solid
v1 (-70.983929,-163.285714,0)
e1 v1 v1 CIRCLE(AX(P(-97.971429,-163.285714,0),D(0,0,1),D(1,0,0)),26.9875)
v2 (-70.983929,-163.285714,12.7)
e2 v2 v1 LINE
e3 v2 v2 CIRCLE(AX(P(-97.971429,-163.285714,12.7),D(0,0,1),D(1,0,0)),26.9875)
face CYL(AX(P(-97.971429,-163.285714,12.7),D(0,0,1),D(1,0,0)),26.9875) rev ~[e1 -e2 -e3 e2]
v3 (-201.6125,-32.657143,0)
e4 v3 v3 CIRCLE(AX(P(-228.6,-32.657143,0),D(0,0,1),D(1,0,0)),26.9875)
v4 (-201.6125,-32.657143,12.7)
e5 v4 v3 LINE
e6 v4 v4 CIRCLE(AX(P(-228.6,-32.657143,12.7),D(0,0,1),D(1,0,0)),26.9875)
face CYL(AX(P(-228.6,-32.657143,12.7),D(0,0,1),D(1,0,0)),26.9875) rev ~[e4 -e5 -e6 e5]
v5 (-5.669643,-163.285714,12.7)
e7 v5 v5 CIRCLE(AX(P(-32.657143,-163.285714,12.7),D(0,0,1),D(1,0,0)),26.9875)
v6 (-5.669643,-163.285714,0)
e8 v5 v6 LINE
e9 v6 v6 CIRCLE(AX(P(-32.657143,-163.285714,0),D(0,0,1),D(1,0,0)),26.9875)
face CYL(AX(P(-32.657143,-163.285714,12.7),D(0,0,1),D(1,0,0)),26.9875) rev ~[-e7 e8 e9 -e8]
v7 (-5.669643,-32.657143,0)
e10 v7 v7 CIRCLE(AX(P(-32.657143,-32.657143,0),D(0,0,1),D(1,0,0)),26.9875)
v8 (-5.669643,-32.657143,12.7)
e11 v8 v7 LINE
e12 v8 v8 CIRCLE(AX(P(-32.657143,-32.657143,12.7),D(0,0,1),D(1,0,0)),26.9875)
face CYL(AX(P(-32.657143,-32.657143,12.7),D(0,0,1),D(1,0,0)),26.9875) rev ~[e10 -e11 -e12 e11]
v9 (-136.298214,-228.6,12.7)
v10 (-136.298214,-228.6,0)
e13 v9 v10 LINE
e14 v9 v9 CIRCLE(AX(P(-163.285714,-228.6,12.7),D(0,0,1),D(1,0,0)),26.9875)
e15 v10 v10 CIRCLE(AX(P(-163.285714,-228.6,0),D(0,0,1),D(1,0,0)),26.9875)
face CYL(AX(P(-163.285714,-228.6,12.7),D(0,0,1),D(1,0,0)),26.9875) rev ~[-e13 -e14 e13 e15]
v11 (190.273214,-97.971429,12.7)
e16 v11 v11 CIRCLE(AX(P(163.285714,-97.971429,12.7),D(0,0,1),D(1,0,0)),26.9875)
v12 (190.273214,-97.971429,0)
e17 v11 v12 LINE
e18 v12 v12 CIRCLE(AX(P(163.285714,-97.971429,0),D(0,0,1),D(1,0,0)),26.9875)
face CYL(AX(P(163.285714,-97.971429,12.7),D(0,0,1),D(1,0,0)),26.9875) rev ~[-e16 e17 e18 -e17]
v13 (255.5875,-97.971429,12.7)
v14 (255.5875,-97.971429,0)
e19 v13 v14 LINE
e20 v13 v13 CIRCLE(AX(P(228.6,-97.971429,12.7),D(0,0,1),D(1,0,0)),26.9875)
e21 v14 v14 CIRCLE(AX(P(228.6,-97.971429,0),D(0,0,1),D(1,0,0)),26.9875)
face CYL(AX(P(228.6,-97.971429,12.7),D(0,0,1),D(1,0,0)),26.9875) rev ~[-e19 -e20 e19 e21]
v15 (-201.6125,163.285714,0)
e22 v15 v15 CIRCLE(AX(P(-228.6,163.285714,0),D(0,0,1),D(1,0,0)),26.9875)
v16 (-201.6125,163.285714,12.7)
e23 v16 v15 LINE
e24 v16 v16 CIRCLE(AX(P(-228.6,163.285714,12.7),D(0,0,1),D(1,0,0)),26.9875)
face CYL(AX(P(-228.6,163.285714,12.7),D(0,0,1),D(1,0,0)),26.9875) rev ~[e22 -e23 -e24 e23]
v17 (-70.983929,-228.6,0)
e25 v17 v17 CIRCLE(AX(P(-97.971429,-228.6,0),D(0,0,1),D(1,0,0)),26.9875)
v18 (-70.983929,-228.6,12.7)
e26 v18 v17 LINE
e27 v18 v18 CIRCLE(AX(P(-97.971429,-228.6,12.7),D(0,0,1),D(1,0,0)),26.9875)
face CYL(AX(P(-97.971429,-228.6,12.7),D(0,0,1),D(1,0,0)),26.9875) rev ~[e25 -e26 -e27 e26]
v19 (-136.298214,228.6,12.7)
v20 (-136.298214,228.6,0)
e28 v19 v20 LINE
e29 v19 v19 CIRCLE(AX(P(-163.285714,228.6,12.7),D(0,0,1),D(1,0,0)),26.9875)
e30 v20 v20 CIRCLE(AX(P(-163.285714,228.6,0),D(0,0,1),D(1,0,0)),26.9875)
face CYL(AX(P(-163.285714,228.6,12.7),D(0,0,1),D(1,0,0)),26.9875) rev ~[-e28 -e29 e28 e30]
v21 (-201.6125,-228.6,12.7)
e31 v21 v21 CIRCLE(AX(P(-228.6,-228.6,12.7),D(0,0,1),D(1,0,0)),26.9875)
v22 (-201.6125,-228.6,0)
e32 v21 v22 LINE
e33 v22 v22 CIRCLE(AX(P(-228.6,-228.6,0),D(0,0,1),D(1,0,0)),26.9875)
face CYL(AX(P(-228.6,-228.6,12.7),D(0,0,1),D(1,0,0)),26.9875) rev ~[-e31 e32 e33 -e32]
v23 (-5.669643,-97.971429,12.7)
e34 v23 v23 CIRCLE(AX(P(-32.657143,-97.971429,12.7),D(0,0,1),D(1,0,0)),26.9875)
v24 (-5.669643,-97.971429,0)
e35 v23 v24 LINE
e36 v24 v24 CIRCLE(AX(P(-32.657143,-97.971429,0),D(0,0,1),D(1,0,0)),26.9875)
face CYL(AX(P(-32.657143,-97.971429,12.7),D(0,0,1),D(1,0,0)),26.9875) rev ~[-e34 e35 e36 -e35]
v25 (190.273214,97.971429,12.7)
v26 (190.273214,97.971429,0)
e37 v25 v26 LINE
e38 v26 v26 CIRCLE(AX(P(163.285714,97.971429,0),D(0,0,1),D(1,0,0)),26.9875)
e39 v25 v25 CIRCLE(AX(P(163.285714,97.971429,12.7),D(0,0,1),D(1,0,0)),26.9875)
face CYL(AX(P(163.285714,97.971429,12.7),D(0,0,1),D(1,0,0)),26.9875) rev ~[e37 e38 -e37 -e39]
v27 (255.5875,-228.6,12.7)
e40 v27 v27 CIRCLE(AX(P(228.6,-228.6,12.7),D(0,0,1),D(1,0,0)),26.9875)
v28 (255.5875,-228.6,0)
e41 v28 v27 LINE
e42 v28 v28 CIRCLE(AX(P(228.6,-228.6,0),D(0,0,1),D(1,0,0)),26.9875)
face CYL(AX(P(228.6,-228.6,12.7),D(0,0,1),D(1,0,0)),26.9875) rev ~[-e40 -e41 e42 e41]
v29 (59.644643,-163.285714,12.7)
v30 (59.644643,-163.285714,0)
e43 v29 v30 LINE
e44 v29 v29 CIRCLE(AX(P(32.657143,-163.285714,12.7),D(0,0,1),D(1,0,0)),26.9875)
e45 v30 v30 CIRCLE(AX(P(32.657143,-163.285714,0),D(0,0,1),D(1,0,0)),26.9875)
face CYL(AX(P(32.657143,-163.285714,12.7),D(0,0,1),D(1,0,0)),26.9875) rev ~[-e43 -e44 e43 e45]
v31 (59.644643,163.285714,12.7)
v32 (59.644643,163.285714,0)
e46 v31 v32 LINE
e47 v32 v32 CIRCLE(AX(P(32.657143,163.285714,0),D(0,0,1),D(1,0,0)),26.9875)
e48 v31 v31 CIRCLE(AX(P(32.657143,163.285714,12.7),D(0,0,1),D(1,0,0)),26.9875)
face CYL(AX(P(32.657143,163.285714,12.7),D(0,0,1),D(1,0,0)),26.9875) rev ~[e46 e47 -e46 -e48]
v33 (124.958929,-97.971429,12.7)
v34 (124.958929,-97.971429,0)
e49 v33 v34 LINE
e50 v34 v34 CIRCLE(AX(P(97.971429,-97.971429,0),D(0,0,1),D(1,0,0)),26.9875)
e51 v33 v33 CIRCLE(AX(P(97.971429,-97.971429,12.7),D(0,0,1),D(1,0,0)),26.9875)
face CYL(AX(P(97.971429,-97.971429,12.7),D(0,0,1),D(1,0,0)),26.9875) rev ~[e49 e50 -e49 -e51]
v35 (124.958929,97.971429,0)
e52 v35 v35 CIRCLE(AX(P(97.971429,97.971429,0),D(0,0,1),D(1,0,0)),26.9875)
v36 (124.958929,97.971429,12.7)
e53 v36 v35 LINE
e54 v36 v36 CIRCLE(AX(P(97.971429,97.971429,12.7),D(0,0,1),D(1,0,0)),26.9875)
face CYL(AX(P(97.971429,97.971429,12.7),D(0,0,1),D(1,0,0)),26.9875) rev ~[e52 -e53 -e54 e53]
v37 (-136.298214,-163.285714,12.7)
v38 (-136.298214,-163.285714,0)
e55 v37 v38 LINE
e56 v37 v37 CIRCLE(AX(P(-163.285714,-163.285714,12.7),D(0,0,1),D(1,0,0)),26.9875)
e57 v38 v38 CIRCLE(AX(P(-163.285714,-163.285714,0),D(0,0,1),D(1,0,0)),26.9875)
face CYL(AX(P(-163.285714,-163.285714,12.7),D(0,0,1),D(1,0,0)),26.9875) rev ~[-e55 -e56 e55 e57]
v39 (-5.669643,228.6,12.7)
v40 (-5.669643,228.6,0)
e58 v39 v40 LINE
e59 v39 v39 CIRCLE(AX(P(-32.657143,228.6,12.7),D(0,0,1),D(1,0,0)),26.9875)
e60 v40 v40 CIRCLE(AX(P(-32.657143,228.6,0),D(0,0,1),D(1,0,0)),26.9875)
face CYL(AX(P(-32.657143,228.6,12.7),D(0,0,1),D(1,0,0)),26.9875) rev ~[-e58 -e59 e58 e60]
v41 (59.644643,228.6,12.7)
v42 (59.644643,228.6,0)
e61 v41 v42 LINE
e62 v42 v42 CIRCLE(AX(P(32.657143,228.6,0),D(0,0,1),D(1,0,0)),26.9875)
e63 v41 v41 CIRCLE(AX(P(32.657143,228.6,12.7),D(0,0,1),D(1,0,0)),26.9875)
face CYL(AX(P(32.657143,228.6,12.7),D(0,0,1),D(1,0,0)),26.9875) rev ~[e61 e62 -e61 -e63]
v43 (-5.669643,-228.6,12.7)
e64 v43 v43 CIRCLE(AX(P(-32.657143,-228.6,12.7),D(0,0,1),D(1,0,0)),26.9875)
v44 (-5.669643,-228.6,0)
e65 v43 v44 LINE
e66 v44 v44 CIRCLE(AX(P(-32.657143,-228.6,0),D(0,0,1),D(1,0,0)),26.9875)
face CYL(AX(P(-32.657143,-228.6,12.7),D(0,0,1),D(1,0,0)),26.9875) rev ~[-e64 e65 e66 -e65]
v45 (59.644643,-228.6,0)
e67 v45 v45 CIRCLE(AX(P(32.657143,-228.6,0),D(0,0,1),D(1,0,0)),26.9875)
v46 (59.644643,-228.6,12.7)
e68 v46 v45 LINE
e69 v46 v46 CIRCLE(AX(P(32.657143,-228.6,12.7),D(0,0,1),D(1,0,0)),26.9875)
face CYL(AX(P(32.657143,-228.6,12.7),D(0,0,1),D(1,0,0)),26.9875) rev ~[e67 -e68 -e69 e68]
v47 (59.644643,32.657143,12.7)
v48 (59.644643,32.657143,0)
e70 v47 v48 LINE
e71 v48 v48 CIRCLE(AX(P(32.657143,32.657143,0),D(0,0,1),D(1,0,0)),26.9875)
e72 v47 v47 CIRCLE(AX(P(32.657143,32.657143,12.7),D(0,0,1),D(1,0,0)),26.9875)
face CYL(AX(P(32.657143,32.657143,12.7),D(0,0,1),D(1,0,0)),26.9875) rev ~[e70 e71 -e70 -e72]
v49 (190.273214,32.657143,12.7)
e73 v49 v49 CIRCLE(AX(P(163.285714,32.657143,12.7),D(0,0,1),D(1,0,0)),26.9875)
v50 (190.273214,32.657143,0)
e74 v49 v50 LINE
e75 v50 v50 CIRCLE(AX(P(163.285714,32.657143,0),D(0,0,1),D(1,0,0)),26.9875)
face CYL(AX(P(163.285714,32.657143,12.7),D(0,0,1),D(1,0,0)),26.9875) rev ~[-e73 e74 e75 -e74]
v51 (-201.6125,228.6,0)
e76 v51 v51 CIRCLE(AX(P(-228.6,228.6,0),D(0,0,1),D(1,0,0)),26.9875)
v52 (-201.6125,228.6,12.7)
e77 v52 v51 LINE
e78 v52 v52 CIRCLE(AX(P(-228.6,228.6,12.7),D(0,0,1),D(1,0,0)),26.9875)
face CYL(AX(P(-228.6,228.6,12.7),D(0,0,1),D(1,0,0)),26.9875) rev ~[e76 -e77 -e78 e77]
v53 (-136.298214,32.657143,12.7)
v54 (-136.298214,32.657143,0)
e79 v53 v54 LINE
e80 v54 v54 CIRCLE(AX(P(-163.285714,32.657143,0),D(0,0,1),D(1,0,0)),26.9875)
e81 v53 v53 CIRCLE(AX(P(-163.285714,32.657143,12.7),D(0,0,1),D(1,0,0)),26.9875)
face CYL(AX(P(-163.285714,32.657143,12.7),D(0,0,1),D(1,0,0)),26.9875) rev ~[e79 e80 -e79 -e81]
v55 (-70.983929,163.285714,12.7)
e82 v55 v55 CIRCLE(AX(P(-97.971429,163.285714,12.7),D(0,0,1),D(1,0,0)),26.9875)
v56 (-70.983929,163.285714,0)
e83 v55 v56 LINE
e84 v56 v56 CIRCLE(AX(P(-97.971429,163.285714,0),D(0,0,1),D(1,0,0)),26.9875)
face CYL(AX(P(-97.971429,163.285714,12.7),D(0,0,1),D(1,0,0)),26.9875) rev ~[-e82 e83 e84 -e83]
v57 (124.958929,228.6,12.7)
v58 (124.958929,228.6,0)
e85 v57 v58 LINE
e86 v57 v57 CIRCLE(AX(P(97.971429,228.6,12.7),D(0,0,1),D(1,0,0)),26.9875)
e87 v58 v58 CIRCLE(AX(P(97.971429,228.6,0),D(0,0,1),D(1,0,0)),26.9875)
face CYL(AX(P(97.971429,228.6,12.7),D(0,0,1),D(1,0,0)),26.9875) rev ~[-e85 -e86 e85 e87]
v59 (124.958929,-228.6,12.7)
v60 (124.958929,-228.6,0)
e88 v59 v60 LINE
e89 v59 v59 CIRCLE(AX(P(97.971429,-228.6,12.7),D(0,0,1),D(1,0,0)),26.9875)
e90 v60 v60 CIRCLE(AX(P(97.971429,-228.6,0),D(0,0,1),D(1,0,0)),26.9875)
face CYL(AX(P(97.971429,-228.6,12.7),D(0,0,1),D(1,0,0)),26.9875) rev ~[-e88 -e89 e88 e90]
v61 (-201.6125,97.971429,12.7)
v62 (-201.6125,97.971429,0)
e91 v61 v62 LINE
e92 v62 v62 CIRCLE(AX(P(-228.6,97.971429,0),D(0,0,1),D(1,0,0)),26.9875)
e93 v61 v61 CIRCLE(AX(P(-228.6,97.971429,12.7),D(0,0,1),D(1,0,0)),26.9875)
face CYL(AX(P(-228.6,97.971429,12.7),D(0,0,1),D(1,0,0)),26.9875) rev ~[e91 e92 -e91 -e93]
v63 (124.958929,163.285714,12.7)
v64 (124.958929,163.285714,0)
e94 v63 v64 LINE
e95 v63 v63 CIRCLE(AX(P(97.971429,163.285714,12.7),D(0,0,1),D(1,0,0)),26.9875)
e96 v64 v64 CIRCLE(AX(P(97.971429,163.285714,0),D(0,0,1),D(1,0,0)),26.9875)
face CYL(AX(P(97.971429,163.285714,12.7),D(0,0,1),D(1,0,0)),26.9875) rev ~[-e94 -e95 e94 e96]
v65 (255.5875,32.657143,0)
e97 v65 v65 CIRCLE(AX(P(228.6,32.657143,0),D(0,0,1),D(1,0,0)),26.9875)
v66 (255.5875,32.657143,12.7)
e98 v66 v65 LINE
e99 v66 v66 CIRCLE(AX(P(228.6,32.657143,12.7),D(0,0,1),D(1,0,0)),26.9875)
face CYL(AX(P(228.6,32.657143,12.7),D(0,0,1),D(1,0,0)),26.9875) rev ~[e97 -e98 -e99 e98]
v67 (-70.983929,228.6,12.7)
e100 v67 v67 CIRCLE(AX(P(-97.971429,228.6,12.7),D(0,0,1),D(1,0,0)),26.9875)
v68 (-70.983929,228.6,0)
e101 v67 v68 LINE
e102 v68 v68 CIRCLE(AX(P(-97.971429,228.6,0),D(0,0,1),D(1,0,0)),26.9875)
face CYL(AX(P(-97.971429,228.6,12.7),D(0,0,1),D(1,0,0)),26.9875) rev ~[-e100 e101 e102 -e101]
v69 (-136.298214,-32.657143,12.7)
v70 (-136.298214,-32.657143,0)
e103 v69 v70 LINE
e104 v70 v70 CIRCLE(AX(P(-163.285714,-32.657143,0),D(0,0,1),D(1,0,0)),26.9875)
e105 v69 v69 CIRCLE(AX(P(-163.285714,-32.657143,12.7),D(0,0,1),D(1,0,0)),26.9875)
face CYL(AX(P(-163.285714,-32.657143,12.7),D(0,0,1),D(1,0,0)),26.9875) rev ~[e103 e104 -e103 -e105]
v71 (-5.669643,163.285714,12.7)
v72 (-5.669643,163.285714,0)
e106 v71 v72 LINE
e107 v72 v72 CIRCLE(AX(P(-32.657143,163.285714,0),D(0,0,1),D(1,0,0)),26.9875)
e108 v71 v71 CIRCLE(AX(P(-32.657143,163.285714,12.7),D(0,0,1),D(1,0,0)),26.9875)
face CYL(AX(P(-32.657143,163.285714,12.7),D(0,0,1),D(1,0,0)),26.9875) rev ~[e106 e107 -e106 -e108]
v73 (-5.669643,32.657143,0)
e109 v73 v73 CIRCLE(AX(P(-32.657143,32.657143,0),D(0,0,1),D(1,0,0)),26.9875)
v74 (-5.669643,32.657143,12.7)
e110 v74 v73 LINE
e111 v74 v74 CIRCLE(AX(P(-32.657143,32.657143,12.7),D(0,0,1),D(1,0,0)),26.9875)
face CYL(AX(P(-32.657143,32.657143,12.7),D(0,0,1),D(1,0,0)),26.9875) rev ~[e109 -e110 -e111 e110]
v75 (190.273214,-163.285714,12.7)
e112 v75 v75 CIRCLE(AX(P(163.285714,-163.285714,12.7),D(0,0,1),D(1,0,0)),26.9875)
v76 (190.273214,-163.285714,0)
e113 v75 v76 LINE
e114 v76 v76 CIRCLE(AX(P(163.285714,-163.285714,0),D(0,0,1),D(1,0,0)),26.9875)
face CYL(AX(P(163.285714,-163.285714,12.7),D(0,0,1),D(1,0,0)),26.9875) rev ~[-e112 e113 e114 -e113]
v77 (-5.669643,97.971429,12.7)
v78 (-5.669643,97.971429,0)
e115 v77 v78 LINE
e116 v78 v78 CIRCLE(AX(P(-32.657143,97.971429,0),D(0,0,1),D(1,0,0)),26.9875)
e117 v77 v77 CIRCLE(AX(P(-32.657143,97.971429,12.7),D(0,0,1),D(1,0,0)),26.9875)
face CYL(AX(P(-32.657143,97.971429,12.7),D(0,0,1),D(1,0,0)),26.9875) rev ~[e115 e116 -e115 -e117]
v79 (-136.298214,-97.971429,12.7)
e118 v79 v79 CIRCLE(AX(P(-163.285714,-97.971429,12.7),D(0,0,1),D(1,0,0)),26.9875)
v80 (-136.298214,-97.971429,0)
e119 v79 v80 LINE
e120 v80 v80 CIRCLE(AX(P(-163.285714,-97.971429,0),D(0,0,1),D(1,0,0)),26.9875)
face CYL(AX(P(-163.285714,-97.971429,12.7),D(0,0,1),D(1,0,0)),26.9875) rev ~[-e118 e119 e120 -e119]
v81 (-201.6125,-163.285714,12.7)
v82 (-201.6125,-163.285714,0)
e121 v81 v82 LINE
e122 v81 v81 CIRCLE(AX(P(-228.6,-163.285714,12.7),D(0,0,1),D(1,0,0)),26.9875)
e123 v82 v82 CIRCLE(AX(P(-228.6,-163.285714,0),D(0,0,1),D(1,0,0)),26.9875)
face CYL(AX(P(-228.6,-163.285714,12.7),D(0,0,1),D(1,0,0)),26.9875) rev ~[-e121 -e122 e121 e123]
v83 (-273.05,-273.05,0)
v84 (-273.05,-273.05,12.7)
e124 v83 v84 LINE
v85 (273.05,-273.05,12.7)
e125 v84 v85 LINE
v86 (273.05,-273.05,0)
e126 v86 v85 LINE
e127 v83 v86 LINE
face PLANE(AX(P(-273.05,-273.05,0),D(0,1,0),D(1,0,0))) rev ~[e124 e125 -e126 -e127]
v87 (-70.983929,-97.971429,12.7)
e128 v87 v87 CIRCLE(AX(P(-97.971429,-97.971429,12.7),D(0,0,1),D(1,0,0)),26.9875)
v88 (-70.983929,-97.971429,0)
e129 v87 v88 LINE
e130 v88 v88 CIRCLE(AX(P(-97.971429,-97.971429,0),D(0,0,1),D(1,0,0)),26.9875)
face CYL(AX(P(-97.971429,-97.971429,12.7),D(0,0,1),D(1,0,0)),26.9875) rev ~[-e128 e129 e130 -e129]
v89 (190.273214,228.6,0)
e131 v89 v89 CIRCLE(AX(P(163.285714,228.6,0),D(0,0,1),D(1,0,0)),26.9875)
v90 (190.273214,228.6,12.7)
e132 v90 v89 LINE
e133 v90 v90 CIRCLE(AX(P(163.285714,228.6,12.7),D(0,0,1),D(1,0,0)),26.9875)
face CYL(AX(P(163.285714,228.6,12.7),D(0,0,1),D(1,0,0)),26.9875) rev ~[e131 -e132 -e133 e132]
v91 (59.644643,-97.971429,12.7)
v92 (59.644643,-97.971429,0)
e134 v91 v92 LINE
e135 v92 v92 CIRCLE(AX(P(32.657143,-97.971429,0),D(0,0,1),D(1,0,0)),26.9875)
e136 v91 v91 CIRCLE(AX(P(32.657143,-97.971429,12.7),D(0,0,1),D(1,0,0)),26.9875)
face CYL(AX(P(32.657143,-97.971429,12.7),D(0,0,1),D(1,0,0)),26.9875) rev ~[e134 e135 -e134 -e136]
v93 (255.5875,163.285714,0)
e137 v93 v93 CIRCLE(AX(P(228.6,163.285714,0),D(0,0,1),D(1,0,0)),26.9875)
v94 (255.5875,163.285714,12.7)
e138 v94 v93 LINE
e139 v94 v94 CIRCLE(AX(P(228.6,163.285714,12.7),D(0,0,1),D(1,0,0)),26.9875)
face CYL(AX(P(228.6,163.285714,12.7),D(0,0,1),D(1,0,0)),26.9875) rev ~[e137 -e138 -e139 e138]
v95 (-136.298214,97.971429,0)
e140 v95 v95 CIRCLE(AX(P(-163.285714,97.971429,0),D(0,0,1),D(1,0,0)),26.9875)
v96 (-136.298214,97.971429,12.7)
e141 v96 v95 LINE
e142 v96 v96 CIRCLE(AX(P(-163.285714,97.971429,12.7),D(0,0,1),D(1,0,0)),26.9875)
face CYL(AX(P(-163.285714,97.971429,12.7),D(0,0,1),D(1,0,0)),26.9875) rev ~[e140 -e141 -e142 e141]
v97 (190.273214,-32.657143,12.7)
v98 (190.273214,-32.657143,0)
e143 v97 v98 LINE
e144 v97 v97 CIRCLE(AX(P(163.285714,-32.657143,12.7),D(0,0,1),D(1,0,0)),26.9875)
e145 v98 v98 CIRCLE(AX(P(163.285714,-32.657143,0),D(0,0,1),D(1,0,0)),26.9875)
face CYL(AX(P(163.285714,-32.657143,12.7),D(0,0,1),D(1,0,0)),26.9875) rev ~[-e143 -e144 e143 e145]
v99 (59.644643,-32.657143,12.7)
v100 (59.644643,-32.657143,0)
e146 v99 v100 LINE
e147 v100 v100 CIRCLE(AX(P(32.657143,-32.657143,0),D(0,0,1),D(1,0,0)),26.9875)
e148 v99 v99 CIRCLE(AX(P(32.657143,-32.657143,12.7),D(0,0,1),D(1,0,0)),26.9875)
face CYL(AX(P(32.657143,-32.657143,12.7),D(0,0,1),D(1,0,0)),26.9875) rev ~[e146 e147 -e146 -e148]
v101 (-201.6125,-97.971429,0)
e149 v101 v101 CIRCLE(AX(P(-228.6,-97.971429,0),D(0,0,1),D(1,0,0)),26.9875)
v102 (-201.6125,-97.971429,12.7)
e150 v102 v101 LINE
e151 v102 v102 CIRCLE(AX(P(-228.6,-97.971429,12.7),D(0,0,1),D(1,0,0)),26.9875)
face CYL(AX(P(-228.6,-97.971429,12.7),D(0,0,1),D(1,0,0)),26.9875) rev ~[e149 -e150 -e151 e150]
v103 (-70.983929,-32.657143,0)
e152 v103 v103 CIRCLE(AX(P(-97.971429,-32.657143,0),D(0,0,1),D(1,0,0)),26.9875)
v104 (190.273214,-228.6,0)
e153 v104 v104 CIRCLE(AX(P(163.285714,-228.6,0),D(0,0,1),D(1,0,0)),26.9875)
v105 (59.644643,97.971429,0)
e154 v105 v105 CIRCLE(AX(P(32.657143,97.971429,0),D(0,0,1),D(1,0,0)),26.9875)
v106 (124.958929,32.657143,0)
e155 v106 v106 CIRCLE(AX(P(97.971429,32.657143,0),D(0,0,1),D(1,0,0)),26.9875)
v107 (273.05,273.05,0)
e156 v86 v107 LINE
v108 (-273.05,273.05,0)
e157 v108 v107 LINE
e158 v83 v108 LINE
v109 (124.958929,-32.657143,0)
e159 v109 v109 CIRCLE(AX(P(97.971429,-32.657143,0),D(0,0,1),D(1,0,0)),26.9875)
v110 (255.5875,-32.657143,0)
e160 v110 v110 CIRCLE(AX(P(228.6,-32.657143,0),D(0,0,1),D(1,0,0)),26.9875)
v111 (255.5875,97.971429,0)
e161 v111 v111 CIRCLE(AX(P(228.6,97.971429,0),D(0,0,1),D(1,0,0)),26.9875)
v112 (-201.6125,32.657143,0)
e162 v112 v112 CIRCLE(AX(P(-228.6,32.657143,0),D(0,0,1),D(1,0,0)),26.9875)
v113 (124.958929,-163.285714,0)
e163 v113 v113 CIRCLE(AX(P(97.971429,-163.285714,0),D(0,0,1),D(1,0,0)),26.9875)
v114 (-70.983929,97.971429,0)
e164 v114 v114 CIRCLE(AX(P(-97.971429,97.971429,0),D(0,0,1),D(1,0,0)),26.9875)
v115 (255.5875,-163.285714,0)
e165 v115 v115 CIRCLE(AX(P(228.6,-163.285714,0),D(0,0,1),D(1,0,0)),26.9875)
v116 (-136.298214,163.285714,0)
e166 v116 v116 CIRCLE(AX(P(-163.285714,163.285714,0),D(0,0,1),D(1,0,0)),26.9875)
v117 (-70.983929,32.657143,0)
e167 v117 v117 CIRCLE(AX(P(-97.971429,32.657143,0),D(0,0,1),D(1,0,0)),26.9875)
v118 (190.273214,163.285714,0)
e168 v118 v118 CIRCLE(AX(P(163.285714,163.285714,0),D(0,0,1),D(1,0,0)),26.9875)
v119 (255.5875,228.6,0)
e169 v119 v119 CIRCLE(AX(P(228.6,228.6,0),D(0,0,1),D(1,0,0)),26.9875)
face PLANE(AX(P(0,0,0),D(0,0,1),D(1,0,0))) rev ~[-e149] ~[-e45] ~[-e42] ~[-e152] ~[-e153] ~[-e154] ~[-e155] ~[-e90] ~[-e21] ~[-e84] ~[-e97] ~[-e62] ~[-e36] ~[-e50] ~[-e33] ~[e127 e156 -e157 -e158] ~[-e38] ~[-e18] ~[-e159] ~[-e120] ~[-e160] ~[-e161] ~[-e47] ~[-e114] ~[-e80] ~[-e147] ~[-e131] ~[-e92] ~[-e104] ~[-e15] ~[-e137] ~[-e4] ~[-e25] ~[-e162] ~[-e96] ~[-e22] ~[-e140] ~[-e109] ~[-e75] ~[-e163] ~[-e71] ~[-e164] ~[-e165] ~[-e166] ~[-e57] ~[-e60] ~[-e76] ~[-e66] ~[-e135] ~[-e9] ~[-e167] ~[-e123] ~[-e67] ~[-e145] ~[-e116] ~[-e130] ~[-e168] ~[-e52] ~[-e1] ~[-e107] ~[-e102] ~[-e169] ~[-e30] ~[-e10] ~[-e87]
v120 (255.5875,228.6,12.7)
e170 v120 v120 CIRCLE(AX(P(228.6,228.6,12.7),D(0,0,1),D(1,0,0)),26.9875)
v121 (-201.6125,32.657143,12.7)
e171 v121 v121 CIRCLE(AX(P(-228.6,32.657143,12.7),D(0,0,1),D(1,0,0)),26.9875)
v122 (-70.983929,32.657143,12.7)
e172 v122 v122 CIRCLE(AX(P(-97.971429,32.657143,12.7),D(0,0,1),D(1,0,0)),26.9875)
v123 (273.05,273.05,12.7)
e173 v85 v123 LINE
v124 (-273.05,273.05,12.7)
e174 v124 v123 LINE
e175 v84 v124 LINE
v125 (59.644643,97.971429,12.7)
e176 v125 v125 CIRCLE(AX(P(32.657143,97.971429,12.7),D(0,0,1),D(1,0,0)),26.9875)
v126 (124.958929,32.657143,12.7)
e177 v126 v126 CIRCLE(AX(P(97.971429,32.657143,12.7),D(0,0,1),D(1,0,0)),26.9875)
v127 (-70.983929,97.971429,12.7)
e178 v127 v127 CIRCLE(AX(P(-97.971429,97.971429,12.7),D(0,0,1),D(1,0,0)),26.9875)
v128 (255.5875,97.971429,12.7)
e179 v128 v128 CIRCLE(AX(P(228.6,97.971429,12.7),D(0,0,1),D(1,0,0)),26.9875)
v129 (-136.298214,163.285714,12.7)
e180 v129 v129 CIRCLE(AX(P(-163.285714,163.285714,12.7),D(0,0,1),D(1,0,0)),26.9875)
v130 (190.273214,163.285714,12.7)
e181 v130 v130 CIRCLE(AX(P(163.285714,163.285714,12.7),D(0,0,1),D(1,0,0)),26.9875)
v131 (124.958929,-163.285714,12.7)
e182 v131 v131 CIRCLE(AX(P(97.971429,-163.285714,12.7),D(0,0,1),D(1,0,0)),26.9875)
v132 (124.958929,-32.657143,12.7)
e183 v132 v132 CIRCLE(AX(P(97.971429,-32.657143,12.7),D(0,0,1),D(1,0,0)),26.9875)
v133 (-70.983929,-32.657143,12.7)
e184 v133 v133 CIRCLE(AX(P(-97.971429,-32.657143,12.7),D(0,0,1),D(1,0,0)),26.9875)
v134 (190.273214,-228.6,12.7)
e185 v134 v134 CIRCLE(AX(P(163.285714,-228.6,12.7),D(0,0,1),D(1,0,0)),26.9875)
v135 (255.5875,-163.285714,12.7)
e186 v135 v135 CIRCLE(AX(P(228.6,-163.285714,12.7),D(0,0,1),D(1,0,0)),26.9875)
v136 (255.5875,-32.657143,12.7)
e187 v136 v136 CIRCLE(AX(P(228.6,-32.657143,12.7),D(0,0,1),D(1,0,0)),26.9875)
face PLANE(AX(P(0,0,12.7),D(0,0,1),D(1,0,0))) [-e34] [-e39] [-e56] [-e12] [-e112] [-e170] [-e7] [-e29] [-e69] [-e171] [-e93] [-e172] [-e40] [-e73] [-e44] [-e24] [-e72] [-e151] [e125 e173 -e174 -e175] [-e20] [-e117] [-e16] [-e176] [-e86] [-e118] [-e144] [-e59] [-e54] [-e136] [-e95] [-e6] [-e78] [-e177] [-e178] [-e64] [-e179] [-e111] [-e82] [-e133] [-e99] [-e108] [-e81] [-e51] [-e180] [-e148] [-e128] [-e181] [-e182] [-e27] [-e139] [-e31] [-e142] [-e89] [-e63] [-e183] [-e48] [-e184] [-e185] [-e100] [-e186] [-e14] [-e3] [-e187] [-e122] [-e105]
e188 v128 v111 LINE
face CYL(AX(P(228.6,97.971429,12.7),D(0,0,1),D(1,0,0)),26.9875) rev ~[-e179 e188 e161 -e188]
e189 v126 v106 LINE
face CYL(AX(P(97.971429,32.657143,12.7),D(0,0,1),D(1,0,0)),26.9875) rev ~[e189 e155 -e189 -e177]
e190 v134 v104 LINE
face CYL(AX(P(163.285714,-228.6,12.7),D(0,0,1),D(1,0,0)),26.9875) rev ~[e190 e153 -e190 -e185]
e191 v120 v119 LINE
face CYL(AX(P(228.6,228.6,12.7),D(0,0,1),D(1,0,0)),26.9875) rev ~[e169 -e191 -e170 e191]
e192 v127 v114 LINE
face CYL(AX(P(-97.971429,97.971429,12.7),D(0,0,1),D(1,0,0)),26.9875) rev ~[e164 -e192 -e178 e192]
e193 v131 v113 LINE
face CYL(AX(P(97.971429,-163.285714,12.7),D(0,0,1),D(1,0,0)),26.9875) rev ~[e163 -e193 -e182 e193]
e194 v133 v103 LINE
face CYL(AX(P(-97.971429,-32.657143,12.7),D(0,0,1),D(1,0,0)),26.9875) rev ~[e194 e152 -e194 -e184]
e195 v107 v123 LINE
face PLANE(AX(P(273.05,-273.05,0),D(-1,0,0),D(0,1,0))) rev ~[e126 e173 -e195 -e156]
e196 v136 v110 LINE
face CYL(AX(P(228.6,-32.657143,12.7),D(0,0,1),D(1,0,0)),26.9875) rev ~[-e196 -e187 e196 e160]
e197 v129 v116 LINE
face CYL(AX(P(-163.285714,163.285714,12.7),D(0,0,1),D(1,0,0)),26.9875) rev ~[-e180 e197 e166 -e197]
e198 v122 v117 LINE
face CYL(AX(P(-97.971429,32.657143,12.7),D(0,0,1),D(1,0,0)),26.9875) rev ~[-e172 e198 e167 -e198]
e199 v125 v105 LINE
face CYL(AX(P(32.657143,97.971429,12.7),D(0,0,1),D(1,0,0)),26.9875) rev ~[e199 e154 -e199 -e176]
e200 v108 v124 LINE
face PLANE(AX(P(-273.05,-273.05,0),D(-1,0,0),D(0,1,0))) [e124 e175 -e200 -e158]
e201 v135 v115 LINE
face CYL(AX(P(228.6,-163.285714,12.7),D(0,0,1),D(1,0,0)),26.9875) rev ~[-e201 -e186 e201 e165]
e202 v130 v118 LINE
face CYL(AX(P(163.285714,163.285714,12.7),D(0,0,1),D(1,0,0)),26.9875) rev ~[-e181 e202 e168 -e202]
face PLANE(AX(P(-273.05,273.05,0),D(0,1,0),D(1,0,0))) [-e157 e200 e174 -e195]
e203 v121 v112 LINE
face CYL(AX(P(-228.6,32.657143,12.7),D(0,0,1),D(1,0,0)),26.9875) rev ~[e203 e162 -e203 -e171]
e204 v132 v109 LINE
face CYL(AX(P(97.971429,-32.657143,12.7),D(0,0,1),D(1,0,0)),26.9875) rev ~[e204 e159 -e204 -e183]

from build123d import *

# Parameters (mm, degrees)
F0_W     = 546.1
F0_H     = 546.1
F1_DEPTH = 12.7
F2_R     = 26.9875
F3_DEPTH = 12.7


with BuildPart() as f1:
    # F0 (on Top) → F1 (new body)
    with BuildSketch(Plane.XY):
        Rectangle(F0_W, F0_H)
    extrude(amount=F1_DEPTH)

    # F2 (on face) → F3 (cut, symmetric)
    with BuildSketch(Plane.XY.offset(12.7)):
        with Locations((-228.6, 228.6)):
            Circle(F2_R)
        with Locations((-228.6, 163.285714)):
            Circle(F2_R)
        with Locations((-228.6, 97.971429)):
            Circle(F2_R)
        with Locations((-228.6, 32.657143)):
            Circle(F2_R)
        with Locations((-228.6, -32.657143)):
            Circle(F2_R)
        with Locations((-228.6, -97.971429)):
            Circle(F2_R)
        with Locations((-228.6, -163.285714)):
            Circle(F2_R)
        with Locations((-228.6, -228.6)):
            Circle(F2_R)
        with Locations((-163.285714, 228.6)):
            Circle(F2_R)
        with Locations((-163.285714, 163.285714)):
            Circle(F2_R)
        with Locations((-163.285714, 97.971429)):
            Circle(F2_R)
        with Locations((-163.285714, 32.657143)):
            Circle(F2_R)
        with Locations((-163.285714, -32.657143)):
            Circle(F2_R)
        with Locations((-163.285714, -97.971429)):
            Circle(F2_R)
        with Locations((-163.285714, -163.285714)):
            Circle(F2_R)
        with Locations((-163.285714, -228.6)):
            Circle(F2_R)
        with Locations((-97.971429, 228.6)):
            Circle(F2_R)
        with Locations((-97.971429, 163.285714)):
            Circle(F2_R)
        with Locations((-97.971429, 97.971429)):
            Circle(F2_R)
        with Locations((-97.971429, 32.657143)):
            Circle(F2_R)
        with Locations((-97.971429, -32.657143)):
            Circle(F2_R)
        with Locations((-97.971429, -97.971429)):
            Circle(F2_R)
        with Locations((-97.971429, -163.285714)):
            Circle(F2_R)
        with Locations((-97.971429, -228.6)):
            Circle(F2_R)
        with Locations((-32.657143, 228.6)):
            Circle(F2_R)
        with Locations((-32.657143, 163.285714)):
            Circle(F2_R)
        with Locations((-32.657143, 97.971429)):
            Circle(F2_R)
        with Locations((-32.657143, 32.657143)):
            Circle(F2_R)
        with Locations((-32.657143, -32.657143)):
            Circle(F2_R)
        with Locations((-32.657143, -97.971429)):
            Circle(F2_R)
        with Locations((-32.657143, -163.285714)):
            Circle(F2_R)
        with Locations((-32.657143, -228.6)):
            Circle(F2_R)
        with Locations((32.657143, 228.6)):
            Circle(F2_R)
        with Locations((32.657143, 163.285714)):
            Circle(F2_R)
        with Locations((32.657143, 97.971429)):
            Circle(F2_R)
        with Locations((32.657143, 32.657143)):
            Circle(F2_R)
        with Locations((32.657143, -32.657143)):
            Circle(F2_R)
        with Locations((32.657143, -97.971429)):
            Circle(F2_R)
        with Locations((32.657143, -163.285714)):
            Circle(F2_R)
        with Locations((32.657143, -228.6)):
            Circle(F2_R)
        with Locations((97.971429, 228.6)):
            Circle(F2_R)
        with Locations((97.971429, 163.285714)):
            Circle(F2_R)
        with Locations((97.971429, 97.971429)):
            Circle(F2_R)
        with Locations((97.971429, 32.657143)):
            Circle(F2_R)
        with Locations((97.971429, -32.657143)):
            Circle(F2_R)
        with Locations((97.971429, -97.971429)):
            Circle(F2_R)
        with Locations((97.971429, -163.285714)):
            Circle(F2_R)
        with Locations((97.971429, -228.6)):
            Circle(F2_R)
        with Locations((163.285714, 228.6)):
            Circle(F2_R)
        with Locations((163.285714, 163.285714)):
            Circle(F2_R)
        with Locations((163.285714, 97.971429)):
            Circle(F2_R)
        with Locations((163.285714, 32.657143)):
            Circle(F2_R)
        with Locations((163.285714, -32.657143)):
            Circle(F2_R)
        with Locations((163.285714, -97.971429)):
            Circle(F2_R)
        with Locations((163.285714, -163.285714)):
            Circle(F2_R)
        with Locations((163.285714, -228.6)):
            Circle(F2_R)
        with Locations((228.6, 228.6)):
            Circle(F2_R)
        with Locations((228.6, 163.285714)):
            Circle(F2_R)
        with Locations((228.6, 97.971429)):
            Circle(F2_R)
        with Locations((228.6, 32.657143)):
            Circle(F2_R)
        with Locations((228.6, -32.657143)):
            Circle(F2_R)
        with Locations((228.6, -97.971429)):
            Circle(F2_R)
        with Locations((228.6, -163.285714)):
            Circle(F2_R)
        with Locations((228.6, -228.6)):
            Circle(F2_R)
    extrude(amount=F3_DEPTH, both=True, mode=Mode.SUBTRACT)


solid = f1.part
